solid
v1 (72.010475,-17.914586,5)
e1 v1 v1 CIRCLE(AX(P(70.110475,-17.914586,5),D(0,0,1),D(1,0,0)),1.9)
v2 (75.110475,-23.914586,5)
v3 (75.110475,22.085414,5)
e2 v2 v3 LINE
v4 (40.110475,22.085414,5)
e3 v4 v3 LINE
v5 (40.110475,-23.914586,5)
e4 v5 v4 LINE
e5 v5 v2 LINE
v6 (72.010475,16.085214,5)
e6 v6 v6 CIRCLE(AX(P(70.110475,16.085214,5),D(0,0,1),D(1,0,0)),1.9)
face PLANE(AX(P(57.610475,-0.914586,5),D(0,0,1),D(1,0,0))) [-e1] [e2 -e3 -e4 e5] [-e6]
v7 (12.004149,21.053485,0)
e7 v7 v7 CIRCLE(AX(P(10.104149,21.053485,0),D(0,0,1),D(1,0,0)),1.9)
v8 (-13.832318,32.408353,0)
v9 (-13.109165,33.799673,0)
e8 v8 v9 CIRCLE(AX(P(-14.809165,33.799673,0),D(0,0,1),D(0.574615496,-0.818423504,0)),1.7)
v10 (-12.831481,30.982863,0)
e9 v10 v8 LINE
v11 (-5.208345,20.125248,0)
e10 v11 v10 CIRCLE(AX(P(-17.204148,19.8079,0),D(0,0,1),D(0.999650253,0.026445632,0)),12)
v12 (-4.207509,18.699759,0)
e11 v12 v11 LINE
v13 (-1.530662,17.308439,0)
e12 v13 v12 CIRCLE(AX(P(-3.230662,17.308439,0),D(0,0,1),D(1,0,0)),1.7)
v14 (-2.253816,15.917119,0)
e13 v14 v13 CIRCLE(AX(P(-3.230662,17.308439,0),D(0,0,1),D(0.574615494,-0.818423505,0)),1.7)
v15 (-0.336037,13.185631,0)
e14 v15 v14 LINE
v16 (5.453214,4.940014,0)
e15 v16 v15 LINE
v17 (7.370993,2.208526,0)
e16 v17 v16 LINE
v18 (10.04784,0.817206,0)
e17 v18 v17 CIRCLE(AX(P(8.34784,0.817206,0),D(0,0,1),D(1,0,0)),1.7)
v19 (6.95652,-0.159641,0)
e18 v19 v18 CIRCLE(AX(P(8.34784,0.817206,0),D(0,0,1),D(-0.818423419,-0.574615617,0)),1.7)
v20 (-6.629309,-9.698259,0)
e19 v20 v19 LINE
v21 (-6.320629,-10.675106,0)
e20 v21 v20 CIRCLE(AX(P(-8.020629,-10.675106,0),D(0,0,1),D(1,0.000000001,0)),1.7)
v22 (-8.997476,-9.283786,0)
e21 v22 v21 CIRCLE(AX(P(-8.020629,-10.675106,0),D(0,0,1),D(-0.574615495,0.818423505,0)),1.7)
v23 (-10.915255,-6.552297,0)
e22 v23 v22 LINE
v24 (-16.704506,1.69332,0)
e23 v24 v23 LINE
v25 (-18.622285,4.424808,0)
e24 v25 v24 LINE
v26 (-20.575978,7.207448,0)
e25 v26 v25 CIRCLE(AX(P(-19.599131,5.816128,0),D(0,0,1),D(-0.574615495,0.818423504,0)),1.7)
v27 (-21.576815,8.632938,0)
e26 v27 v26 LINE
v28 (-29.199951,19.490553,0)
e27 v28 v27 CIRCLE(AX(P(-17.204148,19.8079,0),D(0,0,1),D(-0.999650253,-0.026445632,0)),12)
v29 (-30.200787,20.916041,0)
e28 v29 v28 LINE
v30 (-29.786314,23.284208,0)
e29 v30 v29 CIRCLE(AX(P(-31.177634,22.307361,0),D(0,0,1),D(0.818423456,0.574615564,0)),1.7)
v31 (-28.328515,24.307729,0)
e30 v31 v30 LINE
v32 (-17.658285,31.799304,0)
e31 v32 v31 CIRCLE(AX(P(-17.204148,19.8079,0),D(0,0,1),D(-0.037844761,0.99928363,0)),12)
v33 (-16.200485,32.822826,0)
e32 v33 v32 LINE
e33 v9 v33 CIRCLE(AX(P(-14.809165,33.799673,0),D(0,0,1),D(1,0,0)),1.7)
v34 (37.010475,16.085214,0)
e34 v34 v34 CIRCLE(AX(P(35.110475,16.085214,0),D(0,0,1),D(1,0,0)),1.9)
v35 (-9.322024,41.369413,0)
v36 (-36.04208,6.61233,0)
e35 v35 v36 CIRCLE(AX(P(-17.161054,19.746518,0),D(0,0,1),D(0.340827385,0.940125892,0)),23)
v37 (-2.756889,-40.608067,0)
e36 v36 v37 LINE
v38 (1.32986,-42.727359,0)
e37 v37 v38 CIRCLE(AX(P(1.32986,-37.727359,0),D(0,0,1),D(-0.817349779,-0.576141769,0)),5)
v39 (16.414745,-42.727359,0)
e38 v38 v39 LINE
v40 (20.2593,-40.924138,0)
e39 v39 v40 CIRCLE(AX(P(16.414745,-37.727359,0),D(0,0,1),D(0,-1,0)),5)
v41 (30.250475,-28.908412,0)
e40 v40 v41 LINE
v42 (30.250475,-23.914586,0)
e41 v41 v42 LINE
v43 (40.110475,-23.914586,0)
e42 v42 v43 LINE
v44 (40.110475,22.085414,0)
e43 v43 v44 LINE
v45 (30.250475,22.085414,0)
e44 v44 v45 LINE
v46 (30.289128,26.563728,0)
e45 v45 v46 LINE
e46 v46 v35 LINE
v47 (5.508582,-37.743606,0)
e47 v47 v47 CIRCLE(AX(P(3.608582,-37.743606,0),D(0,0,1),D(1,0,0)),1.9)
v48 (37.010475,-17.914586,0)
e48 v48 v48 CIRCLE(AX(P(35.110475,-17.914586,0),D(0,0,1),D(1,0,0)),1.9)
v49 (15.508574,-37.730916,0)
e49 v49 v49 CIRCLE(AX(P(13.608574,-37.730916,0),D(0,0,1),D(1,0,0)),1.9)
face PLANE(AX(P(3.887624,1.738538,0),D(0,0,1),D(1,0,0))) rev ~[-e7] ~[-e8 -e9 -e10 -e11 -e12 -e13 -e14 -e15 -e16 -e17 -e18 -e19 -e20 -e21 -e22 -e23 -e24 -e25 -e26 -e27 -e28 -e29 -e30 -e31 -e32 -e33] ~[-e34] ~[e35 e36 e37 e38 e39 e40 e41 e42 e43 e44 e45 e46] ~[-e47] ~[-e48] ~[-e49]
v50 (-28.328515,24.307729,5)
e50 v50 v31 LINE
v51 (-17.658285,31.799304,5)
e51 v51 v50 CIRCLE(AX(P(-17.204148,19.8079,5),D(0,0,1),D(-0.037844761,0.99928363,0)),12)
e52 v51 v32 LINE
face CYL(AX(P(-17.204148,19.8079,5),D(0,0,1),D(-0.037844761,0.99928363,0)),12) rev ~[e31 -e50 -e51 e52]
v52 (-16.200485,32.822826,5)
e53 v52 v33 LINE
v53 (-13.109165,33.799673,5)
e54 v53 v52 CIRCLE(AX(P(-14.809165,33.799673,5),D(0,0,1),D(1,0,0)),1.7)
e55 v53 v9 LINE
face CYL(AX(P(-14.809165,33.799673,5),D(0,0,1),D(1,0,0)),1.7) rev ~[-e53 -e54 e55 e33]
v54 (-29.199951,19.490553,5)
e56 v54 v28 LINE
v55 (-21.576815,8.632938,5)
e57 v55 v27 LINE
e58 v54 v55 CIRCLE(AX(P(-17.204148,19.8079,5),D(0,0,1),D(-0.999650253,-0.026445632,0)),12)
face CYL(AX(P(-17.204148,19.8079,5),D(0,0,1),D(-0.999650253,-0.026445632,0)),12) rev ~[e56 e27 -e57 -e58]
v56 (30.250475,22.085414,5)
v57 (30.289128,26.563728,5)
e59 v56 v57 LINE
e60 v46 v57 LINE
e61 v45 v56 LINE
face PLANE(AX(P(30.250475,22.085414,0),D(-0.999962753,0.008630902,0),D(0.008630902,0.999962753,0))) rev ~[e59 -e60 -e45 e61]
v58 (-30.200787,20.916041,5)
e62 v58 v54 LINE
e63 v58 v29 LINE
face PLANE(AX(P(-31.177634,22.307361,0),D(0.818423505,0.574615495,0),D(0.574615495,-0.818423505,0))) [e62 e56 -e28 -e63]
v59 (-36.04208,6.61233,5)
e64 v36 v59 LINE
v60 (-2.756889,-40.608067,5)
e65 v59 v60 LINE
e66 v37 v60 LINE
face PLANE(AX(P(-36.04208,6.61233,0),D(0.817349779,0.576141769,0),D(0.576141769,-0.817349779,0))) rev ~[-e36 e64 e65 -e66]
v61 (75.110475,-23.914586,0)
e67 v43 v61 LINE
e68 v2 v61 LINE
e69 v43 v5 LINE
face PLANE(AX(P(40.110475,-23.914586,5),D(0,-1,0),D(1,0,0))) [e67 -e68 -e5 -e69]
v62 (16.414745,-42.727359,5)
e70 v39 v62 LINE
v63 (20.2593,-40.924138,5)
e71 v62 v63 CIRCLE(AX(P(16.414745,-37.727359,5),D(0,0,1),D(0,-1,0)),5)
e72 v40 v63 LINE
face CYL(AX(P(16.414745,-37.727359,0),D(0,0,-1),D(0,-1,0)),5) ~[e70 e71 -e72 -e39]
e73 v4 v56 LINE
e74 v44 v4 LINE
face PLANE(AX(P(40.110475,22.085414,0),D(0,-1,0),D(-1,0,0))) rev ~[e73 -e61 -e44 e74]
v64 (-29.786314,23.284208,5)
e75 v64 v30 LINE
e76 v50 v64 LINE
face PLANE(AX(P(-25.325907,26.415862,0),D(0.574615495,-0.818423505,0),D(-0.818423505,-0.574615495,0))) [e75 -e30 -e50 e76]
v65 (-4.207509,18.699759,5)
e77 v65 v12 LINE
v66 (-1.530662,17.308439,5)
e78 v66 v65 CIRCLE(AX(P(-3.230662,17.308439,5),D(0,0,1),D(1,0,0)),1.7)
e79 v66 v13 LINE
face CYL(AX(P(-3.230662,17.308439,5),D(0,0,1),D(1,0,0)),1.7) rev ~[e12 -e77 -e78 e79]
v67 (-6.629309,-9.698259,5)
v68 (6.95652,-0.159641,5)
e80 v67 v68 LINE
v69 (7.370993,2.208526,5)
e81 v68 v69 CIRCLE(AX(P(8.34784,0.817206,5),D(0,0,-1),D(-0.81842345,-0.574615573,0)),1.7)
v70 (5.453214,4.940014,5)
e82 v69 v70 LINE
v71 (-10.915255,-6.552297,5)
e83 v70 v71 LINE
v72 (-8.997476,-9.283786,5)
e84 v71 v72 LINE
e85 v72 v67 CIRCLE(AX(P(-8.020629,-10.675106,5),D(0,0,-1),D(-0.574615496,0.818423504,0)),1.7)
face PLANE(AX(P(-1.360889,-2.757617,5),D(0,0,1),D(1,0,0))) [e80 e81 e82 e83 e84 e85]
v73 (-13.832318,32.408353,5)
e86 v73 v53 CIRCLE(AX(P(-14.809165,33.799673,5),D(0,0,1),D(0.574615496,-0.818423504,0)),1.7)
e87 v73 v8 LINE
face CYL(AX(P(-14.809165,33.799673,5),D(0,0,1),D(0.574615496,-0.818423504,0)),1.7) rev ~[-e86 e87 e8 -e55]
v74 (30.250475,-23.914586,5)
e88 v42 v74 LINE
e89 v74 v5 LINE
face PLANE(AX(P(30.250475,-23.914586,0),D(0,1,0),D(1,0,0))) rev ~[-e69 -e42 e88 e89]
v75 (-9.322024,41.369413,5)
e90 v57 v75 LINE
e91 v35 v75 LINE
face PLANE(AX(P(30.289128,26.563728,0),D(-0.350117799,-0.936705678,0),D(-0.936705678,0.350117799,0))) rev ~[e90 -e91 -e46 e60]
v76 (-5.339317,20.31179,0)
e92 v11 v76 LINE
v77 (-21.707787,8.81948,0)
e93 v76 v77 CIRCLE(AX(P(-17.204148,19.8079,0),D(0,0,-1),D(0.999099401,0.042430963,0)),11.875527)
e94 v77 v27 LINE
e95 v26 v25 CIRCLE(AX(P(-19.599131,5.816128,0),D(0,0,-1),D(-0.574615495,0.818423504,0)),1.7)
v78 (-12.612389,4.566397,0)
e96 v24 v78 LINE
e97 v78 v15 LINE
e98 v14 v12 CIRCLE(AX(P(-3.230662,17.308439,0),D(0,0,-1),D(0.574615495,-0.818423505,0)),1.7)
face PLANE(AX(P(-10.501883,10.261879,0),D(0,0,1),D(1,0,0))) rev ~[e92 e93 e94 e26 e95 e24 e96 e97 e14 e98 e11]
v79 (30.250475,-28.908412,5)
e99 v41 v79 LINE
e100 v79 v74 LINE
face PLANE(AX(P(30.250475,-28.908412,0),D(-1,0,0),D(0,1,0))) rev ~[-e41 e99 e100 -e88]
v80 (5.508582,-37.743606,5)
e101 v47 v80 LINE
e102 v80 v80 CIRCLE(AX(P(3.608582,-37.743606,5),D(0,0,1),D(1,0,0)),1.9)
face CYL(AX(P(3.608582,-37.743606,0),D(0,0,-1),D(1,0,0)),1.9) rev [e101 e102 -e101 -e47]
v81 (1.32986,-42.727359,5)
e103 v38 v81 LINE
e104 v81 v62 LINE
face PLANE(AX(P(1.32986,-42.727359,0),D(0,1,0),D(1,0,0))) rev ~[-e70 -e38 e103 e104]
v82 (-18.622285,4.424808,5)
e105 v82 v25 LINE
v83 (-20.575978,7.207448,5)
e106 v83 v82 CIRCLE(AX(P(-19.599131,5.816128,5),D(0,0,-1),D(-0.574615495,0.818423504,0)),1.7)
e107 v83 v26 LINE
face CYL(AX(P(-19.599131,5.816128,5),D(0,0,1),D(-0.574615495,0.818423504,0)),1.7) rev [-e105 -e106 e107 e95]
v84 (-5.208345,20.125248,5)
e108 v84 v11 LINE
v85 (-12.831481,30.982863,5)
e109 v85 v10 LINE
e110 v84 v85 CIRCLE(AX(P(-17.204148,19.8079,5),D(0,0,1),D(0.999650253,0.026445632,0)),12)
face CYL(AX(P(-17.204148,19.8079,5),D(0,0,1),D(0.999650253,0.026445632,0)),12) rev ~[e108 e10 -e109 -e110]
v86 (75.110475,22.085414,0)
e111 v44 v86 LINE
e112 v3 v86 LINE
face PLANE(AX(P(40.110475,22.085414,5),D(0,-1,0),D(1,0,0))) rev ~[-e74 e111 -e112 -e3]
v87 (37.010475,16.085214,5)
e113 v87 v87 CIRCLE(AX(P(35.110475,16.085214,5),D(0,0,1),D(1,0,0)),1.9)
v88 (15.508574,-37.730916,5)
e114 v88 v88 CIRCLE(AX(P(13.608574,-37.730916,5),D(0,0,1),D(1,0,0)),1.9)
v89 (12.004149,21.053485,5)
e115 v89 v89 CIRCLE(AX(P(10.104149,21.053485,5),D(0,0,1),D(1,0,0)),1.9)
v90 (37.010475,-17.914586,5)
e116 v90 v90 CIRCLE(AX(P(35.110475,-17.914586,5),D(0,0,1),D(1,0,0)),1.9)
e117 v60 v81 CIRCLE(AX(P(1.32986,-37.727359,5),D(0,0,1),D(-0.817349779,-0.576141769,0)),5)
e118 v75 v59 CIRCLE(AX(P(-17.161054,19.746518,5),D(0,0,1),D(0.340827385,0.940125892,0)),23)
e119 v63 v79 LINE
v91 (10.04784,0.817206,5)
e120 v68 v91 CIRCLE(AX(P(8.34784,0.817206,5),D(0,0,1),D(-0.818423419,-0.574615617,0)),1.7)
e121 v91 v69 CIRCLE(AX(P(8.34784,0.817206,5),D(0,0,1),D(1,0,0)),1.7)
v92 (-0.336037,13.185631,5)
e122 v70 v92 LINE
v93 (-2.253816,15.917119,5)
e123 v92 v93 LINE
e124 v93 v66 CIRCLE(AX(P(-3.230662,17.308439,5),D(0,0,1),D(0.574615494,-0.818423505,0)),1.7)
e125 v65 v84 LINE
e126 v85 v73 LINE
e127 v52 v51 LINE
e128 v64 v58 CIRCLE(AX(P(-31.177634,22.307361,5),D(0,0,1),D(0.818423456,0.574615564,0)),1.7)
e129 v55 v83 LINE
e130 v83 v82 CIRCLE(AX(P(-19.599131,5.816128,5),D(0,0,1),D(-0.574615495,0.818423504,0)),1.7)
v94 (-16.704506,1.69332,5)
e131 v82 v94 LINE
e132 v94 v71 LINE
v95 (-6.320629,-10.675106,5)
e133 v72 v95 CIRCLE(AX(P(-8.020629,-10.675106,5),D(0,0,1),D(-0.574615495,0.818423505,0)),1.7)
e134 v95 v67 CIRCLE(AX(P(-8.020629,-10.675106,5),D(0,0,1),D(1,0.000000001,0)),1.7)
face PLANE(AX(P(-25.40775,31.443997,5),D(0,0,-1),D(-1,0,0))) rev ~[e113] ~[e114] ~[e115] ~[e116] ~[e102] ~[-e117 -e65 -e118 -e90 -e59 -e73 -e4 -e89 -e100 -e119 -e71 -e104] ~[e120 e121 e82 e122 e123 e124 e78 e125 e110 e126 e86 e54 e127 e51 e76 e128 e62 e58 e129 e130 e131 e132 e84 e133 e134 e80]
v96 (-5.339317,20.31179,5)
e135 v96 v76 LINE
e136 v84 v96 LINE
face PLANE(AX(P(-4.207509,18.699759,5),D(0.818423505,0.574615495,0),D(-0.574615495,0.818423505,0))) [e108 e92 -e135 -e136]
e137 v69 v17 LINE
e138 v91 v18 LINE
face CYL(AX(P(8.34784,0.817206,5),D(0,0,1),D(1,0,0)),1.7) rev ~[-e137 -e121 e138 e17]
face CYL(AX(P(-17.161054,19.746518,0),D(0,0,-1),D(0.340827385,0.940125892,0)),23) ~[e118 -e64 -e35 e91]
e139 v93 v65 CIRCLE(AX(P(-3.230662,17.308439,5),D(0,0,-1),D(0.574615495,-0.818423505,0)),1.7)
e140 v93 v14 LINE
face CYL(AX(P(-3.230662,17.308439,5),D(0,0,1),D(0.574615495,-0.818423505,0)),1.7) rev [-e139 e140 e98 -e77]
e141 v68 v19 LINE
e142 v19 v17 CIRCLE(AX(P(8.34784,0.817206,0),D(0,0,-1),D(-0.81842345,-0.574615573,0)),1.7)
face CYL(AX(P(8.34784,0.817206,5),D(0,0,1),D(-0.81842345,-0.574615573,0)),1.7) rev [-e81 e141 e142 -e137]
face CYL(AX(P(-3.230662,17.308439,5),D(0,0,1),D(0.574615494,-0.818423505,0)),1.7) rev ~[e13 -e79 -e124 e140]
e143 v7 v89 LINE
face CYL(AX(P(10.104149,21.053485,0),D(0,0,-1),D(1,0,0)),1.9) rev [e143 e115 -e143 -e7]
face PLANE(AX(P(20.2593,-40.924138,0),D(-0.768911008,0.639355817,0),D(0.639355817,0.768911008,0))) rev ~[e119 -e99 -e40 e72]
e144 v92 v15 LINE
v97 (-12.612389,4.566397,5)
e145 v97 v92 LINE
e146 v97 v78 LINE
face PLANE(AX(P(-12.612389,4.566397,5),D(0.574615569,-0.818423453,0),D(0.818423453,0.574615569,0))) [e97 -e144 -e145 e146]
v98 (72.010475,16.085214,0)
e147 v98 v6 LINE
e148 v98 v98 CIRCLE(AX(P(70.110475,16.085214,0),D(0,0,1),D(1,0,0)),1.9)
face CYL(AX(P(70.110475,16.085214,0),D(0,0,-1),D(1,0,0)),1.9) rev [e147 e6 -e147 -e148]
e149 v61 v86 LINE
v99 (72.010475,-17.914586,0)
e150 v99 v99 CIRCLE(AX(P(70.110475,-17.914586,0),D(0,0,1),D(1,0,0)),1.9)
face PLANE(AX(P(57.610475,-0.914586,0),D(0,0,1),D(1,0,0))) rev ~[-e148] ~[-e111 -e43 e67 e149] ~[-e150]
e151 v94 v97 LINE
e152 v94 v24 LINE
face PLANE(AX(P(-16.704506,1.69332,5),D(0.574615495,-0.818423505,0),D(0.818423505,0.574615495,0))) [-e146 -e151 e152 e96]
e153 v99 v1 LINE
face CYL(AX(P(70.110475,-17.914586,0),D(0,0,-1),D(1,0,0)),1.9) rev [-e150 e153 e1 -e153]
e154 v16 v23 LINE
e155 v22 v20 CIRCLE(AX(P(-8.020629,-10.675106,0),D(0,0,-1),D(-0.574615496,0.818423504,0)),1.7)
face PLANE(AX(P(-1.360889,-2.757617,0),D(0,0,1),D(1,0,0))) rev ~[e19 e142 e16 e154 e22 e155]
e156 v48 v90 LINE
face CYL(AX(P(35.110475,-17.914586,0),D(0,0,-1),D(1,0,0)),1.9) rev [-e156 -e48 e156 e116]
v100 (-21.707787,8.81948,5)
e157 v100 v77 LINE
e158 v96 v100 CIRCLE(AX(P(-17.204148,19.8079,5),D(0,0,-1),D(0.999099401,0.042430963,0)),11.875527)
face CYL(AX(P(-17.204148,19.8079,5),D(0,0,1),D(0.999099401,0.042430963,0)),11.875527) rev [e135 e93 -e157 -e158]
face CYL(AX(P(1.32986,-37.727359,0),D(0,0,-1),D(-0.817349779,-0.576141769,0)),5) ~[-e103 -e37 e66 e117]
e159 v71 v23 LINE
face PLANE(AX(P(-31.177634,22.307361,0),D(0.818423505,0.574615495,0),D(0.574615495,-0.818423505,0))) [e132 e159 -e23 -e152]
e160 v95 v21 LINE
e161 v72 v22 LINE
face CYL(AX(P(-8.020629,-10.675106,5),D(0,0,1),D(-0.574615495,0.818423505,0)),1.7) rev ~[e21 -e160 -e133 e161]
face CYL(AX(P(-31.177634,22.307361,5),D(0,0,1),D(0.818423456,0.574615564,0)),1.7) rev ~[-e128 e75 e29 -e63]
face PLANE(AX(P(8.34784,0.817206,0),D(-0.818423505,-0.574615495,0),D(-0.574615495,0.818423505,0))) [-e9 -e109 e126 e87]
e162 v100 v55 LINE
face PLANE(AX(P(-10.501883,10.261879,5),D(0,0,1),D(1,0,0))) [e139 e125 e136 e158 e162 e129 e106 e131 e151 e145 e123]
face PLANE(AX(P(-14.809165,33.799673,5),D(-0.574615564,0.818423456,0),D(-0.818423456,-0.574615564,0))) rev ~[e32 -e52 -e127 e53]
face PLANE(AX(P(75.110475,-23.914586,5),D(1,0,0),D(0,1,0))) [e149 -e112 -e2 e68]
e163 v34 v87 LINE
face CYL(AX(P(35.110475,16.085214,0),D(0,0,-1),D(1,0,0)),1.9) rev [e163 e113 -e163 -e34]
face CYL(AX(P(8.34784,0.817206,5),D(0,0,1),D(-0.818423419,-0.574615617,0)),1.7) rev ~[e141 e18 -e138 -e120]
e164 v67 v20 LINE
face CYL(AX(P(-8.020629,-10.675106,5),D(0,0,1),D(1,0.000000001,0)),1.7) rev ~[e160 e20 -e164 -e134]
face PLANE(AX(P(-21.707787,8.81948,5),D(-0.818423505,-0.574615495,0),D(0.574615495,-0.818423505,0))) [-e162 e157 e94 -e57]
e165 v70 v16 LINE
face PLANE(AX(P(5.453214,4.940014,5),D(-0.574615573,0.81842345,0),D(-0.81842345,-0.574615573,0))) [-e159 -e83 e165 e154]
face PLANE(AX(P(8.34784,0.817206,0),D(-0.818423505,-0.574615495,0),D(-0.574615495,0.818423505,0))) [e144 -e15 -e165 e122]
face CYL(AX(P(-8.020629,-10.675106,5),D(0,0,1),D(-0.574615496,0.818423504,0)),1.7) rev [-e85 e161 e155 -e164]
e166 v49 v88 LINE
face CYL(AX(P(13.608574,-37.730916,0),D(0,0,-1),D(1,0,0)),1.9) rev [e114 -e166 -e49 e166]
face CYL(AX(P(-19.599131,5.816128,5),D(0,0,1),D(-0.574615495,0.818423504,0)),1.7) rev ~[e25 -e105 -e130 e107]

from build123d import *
from build123d.topology import SkipClean

# Parameters (mm, degrees)
ESQUISSE1_R         = 1.9
ESQUISSE1_R_2       = 1.950000027
BOSS_EXTRU_1_DEPTH  = 5
EXTRUDE_1_DEPTH     = 5
CUT_EXTRUDE_1_DEPTH = 5
CUT_EXTRUDE_2_DEPTH = 5
EXTRUDE_3_DEPTH     = 5
SKETCH_5_W          = 35
SKETCH_5_H          = 46
EXTRUDE_4_DEPTH     = 5
CUT_EXTRUDE_START   = -5
SKETCH_6_R          = 1.9
CUT_EXTRUDE_3_DEPTH = 5


with BuildPart() as part:
    # Esquisse1 → Boss.-Extru.1 (new body)
    with BuildSketch(Plane.XY):
        with BuildLine():
            Line((-36.042079519, 6.612329971), (-2.756888739, -40.60806749))
            ThreePointArc((-2.756888739, -40.60806749), (-0.971927818, -42.166026475), (1.329860158, -42.727358644))
            Line((1.329860158, -42.727358644), (16.414744778, -42.727358644))
            ThreePointArc((16.414744778, -42.727358644), (18.537962215, -42.254161899), (20.25929982, -40.92413773))
            Line((20.25929982, -40.92413773), (30.250474641, -28.908411747))
            Line((30.250474641, -28.908411747), (30.250474641, -23.914585762))
            Line((30.250474641, -23.914585762), (40.110474641, -23.914585762))
            Line((40.110474641, -23.914585762), (40.110474641, 22.085414238))
            Line((40.110474641, 22.085414238), (30.250474641, 22.085414238))
            Line((30.250474641, 22.085414238), (30.289127967, 26.563728114))
            Line((30.289127967, 26.563728114), (-9.322024272, 41.369413347))
            ThreePointArc((-9.322024272, 41.369413347), (-35.395503084, 33.764537489), (-36.042079519, 6.612329971))
        make_face()
        with Locations((-29.585096552, 28.740581162)):
            Circle(ESQUISSE1_R, mode=Mode.SUBTRACT)
        with Locations((-21.4008614, 34.486736198)):
            Circle(ESQUISSE1_R, mode=Mode.SUBTRACT)
        with Locations((-1.428936876, -11.362171084)):
            Circle(ESQUISSE1_R_2, mode=Mode.SUBTRACT)
        with Locations((6.755298276, -5.616016048)):
            Circle(ESQUISSE1_R_2, mode=Mode.SUBTRACT)
        with Locations((10.104149324, 21.053484932)):
            Circle(ESQUISSE1_R, mode=Mode.SUBTRACT)
        with Locations((3.608581782, -37.743606202)):
            Circle(ESQUISSE1_R, mode=Mode.SUBTRACT)
        with Locations((13.608573866, -37.73091599)):
            Circle(ESQUISSE1_R, mode=Mode.SUBTRACT)
        with Locations((35.110474641, -17.914585762)):
            Circle(ESQUISSE1_R, mode=Mode.SUBTRACT)
        with Locations((35.110474641, 16.085214419)):
            Circle(ESQUISSE1_R, mode=Mode.SUBTRACT)
        with BuildLine():
            Line((-14.809164556, 33.799672662), (-20.660891689, 29.691172522))
            ThreePointArc((-20.660891689, 29.691172522), (-22.18628804, 29.363713126), (-23.482781796, 30.231565432))
            Line((-23.482781796, 30.231565432), (-25.924897053, 33.709865414))
            ThreePointArc((-25.924897053, 33.709865414), (-26.47826462, 34.0839702), (-27.131559209, 33.944771651))
            ThreePointArc((-27.131559209, 33.944771651), (-27.478774003, 33.409530528), (-27.357701898, 32.783125931))
            Line((-27.357701898, 32.783125931), (-24.915585604, 29.304825893))
            ThreePointArc((-24.915585604, 29.304825893), (-24.495010021, 27.771470128), (-25.32590655, 26.415861527))
            Line((-25.32590655, 26.415861527), (-31.177633683, 22.307361387))
            Line((-31.177633683, 22.307361387), (-8.020629273, -10.675105791))
            Line((-8.020629273, -10.675105791), (-2.16890246, -6.566605875))
            ThreePointArc((-2.16890246, -6.566605875), (-0.674874752, -6.233398064), (0.617175813, -7.054221782))
            Line((0.617175813, -7.054221782), (3.05929141, -10.532521451))
            ThreePointArc((3.05929141, -10.532521451), (3.608413847, -10.881372123), (4.243376724, -10.739758611))
            ThreePointArc((4.243376724, -10.739758611), (4.592227421, -10.190636157), (4.450613892, -9.555673255))
            Line((4.450613892, -9.555673255), (2.008497767, -6.077373005))
            ThreePointArc((2.008497767, -6.077373005), (1.675290093, -4.583345549), (2.496113536, -3.291295137))
            Line((2.496113536, -3.291295137), (8.347839718, 0.817205678))
            Line((8.347839718, 0.817205678), (-14.809164556, 33.799672662))
        make_face(mode=Mode.SUBTRACT)
    extrude(amount=BOSS_EXTRU_1_DEPTH)

    # 草图1 → 凸台-拉伸1 (add)
    with BuildSketch(Plane.XY.offset(5)):
        Polygon((-31.177633683, 22.307361387), (-35.97039471, 29.133678309), (-19.693347321, 40.561802618), (-14.809164556, 33.799672662), align=None)
        Polygon((-8.020629273, -10.675105791), (8.347839718, 0.817205678), (13.184422938, -6.071527079), (-3.384378671, -17.704492194), align=None)
    extrude(amount=-EXTRUDE_1_DEPTH)

    # 草图2 → 切除-拉伸1 (cut)
    with BuildSketch(Plane.XY.offset(5)):
        with BuildLine():
            Line((-30.200787341, 20.916041429), (-31.177633683, 22.307361387))
            Line((-31.177633683, 22.307361387), (-29.786313807, 23.284207845))
            ThreePointArc((-29.786313807, 23.284207845), (-32.852180144, 22.600438421), (-30.200787341, 20.916041429))
        make_face()
        with BuildLine():
            Line((-16.200484514, 32.82282632), (-14.809164556, 33.799672662))
            Line((-14.809164556, 33.799672662), (-13.832318214, 32.408352704))
            ThreePointArc((-13.832318214, 32.408352704), (-13.30074837, 33.015656967), (-13.109164556, 33.799672662))
            ThreePointArc((-13.109164556, 33.799672662), (-15.321393056, 35.42066679), (-16.200484514, 32.82282632))
        make_face()
        with BuildLine():
            Line((-4.207508761, 18.699759128), (-3.230662419, 17.30843917))
            Line((-3.230662419, 17.30843917), (-2.253816078, 15.917119212))
            ThreePointArc((-2.253816078, 15.917119212), (-1.722246233, 16.524423475), (-1.530662419, 17.30843917))
            ThreePointArc((-1.530662419, 17.30843917), (-2.446646724, 18.816855356), (-4.207508761, 18.699759128))
        make_face()
        with BuildLine():
            Line((-19.599131478, 5.816127798), (-20.57597782, 7.207447756))
            ThreePointArc((-20.57597782, 7.207447756), (-20.990451436, 4.839281457), (-18.622285137, 4.42480784))
            Line((-18.622285137, 4.42480784), (-19.599131478, 5.816127798))
        make_face()
        with BuildLine():
            Line((-8.020629273, -10.675105791), (-8.997475615, -9.283785833))
            ThreePointArc((-8.997475615, -9.283785833), (-8.804644968, -12.183521977), (-6.320629273, -10.675105791))
            ThreePointArc((-6.320629273, -10.675105791), (-6.399635145, -10.162877291), (-6.629309315, -9.698259449))
            Line((-6.629309315, -9.698259449), (-8.020629273, -10.675105791))
        make_face()
        with BuildLine():
            ThreePointArc((-6.629309315, -9.698259449), (-7.727552169, -9.000559341), (-8.997475615, -9.283785833))
            Line((-8.997475615, -9.283785833), (-8.020629273, -10.675105791))
            Line((-8.020629273, -10.675105791), (-6.629309315, -9.698259449))
        make_face()
        with BuildLine():
            Line((8.347839718, 0.817205678), (7.370993376, 2.208525636))
            ThreePointArc((7.370993376, 2.208525636), (6.673293247, 1.110282658), (6.956519906, -0.159640871))
            Line((6.956519906, -0.159640871), (8.347839718, 0.817205678))
        make_face()
        with BuildLine():
            ThreePointArc((10.047839718, 0.817205678), (9.131855413, 2.325621864), (7.370993376, 2.208525636))
            Line((7.370993376, 2.208525636), (8.347839718, 0.817205678))
            Line((8.347839718, 0.817205678), (6.956519906, -0.159640871))
            ThreePointArc((6.956519906, -0.159640871), (8.860068338, -0.803788412), (10.047839718, 0.817205678))
        make_face()
    extrude(amount=-CUT_EXTRUDE_1_DEPTH, mode=Mode.SUBTRACT)

    # 草图3 → 切除-拉伸2 (cut)
    with BuildSketch(Plane.XY.offset(5)):
        with BuildLine():
            Line((-21.576815105, 8.632937959), (-29.199951088, 19.490552697))
            ThreePointArc((-29.199951088, 19.490552697), (-27.025230106, 12.912514338), (-21.576815105, 8.632937959))
        make_face()
        with BuildLine():
            ThreePointArc((-28.328515046, 24.307729049), (-28.734520323, 23.132131809), (-29.016664647, 21.920825185))
            Line((-29.016664647, 21.920825185), (-5.391631455, 17.694975372))
            ThreePointArc((-5.391631455, 17.694975372), (-5.251110798, 18.747287049), (-5.204148051, 19.807900278))
            ThreePointArc((-5.204148051, 19.807900278), (-5.205197337, 19.966587945), (-5.208345014, 20.12524786))
            Line((-5.208345014, 20.12524786), (-12.831480997, 30.982862597))
            ThreePointArc((-12.831480997, 30.982862597), (-15.202807683, 31.639833203), (-17.658285182, 31.799303844))
            Line((-17.658285182, 31.799303844), (-20.660891689, 29.691172522))
            Line((-20.660891689, 29.691172522), (-25.325906895, 26.415862018))
            Line((-25.325906895, 26.415862018), (-28.328515046, 24.307729049))
        make_face()
        with BuildLine():
            ThreePointArc((-17.658285182, 31.799303844), (-24.099535109, 29.628981549), (-28.328515046, 24.307729049))
            Line((-28.328515046, 24.307729049), (-25.325906895, 26.415862018))
            Line((-25.325906895, 26.415862018), (-20.660891689, 29.691172522))
            Line((-20.660891689, 29.691172522), (-17.658285182, 31.799303844))
        make_face()
        with BuildLine():
            Line((-12.831480997, 30.982862597), (-5.208345014, 20.12524786))
            ThreePointArc((-5.208345014, 20.12524786), (-7.383065996, 26.703286219), (-12.831480997, 30.982862597))
        make_face()
    extrude(amount=-CUT_EXTRUDE_2_DEPTH, mode=Mode.SUBTRACT)

    # 草图4 → 凸台-拉伸3 (add)
    with SkipClean():  # the faces are left unmerged after this step: merging them gives an invalid solid
        with BuildSketch(Plane.XY.offset(5)):
            with BuildLine():
                ThreePointArc((-5.339316546, 20.311790307), (-10.38028646, 10.088690187), (-21.707786637, 8.819480406))
                Line((-21.707786637, 8.819480406), (-20.57597782, 7.207447756))
                ThreePointArc((-20.57597782, 7.207447756), (-18.20781152, 6.79297414), (-18.622285137, 4.42480784))
                Line((-18.622285137, 4.42480784), (-16.704506194, 1.693319781))
                Line((-16.704506194, 1.693319781), (-12.612388659, 4.566397265))
                Line((-12.612388659, 4.566397265), (-0.336036876, 13.185630785))
                Line((-0.336036876, 13.185630785), (-2.253816078, 15.917119212))
                ThreePointArc((-2.253816078, 15.917119212), (-4.621982377, 16.331592828), (-4.207508761, 18.699759128))
                Line((-4.207508761, 18.699759128), (-5.339316546, 20.311790307))
            make_face()
            with BuildLine():
                Line((5.453214175, 4.940014063), (-10.915254816, -6.552297405))
                Line((-10.915254816, -6.552297405), (-8.997475615, -9.283785833))
                ThreePointArc((-8.997475615, -9.283785833), (-7.727552249, -9.000559327), (-6.629309409, -9.698259316))
                Line((-6.629309409, -9.698259316), (6.956519854, -0.159640797))
                ThreePointArc((6.956519854, -0.159640797), (6.673293255, 1.110282702), (7.370993376, 2.208525636))
                Line((7.370993376, 2.208525636), (5.453214175, 4.940014063))
            make_face()
        extrude(amount=-EXTRUDE_3_DEPTH)

    # 草图5 → 凸台-拉伸4 (add)
    with SkipClean():  # the faces are left unmerged after this step: merging them gives an invalid solid
        with BuildSketch(Plane.XY.offset(5)):
            with Locations((57.610474641, -0.914585762)):
                Rectangle(SKETCH_5_W, SKETCH_5_H)
        extrude(amount=-EXTRUDE_4_DEPTH)

    # 草图6 → 切除-拉伸3 (cut)
    with SkipClean():  # the faces are left unmerged after this step: merging them gives an invalid solid
        with BuildSketch(Plane.XY.offset(5).offset(CUT_EXTRUDE_START)):
            with Locations((35.110474641, 16.085214419)):
                Circle(SKETCH_6_R)
            with Locations((70.110474641, 16.085214419)):
                Circle(SKETCH_6_R)
            with Locations((35.110474641, -17.914585762)):
                Circle(SKETCH_6_R)
            with Locations((70.110474641, -17.914585762)):
                Circle(SKETCH_6_R)
        extrude(amount=CUT_EXTRUDE_3_DEPTH, mode=Mode.SUBTRACT)


solid = part.part
